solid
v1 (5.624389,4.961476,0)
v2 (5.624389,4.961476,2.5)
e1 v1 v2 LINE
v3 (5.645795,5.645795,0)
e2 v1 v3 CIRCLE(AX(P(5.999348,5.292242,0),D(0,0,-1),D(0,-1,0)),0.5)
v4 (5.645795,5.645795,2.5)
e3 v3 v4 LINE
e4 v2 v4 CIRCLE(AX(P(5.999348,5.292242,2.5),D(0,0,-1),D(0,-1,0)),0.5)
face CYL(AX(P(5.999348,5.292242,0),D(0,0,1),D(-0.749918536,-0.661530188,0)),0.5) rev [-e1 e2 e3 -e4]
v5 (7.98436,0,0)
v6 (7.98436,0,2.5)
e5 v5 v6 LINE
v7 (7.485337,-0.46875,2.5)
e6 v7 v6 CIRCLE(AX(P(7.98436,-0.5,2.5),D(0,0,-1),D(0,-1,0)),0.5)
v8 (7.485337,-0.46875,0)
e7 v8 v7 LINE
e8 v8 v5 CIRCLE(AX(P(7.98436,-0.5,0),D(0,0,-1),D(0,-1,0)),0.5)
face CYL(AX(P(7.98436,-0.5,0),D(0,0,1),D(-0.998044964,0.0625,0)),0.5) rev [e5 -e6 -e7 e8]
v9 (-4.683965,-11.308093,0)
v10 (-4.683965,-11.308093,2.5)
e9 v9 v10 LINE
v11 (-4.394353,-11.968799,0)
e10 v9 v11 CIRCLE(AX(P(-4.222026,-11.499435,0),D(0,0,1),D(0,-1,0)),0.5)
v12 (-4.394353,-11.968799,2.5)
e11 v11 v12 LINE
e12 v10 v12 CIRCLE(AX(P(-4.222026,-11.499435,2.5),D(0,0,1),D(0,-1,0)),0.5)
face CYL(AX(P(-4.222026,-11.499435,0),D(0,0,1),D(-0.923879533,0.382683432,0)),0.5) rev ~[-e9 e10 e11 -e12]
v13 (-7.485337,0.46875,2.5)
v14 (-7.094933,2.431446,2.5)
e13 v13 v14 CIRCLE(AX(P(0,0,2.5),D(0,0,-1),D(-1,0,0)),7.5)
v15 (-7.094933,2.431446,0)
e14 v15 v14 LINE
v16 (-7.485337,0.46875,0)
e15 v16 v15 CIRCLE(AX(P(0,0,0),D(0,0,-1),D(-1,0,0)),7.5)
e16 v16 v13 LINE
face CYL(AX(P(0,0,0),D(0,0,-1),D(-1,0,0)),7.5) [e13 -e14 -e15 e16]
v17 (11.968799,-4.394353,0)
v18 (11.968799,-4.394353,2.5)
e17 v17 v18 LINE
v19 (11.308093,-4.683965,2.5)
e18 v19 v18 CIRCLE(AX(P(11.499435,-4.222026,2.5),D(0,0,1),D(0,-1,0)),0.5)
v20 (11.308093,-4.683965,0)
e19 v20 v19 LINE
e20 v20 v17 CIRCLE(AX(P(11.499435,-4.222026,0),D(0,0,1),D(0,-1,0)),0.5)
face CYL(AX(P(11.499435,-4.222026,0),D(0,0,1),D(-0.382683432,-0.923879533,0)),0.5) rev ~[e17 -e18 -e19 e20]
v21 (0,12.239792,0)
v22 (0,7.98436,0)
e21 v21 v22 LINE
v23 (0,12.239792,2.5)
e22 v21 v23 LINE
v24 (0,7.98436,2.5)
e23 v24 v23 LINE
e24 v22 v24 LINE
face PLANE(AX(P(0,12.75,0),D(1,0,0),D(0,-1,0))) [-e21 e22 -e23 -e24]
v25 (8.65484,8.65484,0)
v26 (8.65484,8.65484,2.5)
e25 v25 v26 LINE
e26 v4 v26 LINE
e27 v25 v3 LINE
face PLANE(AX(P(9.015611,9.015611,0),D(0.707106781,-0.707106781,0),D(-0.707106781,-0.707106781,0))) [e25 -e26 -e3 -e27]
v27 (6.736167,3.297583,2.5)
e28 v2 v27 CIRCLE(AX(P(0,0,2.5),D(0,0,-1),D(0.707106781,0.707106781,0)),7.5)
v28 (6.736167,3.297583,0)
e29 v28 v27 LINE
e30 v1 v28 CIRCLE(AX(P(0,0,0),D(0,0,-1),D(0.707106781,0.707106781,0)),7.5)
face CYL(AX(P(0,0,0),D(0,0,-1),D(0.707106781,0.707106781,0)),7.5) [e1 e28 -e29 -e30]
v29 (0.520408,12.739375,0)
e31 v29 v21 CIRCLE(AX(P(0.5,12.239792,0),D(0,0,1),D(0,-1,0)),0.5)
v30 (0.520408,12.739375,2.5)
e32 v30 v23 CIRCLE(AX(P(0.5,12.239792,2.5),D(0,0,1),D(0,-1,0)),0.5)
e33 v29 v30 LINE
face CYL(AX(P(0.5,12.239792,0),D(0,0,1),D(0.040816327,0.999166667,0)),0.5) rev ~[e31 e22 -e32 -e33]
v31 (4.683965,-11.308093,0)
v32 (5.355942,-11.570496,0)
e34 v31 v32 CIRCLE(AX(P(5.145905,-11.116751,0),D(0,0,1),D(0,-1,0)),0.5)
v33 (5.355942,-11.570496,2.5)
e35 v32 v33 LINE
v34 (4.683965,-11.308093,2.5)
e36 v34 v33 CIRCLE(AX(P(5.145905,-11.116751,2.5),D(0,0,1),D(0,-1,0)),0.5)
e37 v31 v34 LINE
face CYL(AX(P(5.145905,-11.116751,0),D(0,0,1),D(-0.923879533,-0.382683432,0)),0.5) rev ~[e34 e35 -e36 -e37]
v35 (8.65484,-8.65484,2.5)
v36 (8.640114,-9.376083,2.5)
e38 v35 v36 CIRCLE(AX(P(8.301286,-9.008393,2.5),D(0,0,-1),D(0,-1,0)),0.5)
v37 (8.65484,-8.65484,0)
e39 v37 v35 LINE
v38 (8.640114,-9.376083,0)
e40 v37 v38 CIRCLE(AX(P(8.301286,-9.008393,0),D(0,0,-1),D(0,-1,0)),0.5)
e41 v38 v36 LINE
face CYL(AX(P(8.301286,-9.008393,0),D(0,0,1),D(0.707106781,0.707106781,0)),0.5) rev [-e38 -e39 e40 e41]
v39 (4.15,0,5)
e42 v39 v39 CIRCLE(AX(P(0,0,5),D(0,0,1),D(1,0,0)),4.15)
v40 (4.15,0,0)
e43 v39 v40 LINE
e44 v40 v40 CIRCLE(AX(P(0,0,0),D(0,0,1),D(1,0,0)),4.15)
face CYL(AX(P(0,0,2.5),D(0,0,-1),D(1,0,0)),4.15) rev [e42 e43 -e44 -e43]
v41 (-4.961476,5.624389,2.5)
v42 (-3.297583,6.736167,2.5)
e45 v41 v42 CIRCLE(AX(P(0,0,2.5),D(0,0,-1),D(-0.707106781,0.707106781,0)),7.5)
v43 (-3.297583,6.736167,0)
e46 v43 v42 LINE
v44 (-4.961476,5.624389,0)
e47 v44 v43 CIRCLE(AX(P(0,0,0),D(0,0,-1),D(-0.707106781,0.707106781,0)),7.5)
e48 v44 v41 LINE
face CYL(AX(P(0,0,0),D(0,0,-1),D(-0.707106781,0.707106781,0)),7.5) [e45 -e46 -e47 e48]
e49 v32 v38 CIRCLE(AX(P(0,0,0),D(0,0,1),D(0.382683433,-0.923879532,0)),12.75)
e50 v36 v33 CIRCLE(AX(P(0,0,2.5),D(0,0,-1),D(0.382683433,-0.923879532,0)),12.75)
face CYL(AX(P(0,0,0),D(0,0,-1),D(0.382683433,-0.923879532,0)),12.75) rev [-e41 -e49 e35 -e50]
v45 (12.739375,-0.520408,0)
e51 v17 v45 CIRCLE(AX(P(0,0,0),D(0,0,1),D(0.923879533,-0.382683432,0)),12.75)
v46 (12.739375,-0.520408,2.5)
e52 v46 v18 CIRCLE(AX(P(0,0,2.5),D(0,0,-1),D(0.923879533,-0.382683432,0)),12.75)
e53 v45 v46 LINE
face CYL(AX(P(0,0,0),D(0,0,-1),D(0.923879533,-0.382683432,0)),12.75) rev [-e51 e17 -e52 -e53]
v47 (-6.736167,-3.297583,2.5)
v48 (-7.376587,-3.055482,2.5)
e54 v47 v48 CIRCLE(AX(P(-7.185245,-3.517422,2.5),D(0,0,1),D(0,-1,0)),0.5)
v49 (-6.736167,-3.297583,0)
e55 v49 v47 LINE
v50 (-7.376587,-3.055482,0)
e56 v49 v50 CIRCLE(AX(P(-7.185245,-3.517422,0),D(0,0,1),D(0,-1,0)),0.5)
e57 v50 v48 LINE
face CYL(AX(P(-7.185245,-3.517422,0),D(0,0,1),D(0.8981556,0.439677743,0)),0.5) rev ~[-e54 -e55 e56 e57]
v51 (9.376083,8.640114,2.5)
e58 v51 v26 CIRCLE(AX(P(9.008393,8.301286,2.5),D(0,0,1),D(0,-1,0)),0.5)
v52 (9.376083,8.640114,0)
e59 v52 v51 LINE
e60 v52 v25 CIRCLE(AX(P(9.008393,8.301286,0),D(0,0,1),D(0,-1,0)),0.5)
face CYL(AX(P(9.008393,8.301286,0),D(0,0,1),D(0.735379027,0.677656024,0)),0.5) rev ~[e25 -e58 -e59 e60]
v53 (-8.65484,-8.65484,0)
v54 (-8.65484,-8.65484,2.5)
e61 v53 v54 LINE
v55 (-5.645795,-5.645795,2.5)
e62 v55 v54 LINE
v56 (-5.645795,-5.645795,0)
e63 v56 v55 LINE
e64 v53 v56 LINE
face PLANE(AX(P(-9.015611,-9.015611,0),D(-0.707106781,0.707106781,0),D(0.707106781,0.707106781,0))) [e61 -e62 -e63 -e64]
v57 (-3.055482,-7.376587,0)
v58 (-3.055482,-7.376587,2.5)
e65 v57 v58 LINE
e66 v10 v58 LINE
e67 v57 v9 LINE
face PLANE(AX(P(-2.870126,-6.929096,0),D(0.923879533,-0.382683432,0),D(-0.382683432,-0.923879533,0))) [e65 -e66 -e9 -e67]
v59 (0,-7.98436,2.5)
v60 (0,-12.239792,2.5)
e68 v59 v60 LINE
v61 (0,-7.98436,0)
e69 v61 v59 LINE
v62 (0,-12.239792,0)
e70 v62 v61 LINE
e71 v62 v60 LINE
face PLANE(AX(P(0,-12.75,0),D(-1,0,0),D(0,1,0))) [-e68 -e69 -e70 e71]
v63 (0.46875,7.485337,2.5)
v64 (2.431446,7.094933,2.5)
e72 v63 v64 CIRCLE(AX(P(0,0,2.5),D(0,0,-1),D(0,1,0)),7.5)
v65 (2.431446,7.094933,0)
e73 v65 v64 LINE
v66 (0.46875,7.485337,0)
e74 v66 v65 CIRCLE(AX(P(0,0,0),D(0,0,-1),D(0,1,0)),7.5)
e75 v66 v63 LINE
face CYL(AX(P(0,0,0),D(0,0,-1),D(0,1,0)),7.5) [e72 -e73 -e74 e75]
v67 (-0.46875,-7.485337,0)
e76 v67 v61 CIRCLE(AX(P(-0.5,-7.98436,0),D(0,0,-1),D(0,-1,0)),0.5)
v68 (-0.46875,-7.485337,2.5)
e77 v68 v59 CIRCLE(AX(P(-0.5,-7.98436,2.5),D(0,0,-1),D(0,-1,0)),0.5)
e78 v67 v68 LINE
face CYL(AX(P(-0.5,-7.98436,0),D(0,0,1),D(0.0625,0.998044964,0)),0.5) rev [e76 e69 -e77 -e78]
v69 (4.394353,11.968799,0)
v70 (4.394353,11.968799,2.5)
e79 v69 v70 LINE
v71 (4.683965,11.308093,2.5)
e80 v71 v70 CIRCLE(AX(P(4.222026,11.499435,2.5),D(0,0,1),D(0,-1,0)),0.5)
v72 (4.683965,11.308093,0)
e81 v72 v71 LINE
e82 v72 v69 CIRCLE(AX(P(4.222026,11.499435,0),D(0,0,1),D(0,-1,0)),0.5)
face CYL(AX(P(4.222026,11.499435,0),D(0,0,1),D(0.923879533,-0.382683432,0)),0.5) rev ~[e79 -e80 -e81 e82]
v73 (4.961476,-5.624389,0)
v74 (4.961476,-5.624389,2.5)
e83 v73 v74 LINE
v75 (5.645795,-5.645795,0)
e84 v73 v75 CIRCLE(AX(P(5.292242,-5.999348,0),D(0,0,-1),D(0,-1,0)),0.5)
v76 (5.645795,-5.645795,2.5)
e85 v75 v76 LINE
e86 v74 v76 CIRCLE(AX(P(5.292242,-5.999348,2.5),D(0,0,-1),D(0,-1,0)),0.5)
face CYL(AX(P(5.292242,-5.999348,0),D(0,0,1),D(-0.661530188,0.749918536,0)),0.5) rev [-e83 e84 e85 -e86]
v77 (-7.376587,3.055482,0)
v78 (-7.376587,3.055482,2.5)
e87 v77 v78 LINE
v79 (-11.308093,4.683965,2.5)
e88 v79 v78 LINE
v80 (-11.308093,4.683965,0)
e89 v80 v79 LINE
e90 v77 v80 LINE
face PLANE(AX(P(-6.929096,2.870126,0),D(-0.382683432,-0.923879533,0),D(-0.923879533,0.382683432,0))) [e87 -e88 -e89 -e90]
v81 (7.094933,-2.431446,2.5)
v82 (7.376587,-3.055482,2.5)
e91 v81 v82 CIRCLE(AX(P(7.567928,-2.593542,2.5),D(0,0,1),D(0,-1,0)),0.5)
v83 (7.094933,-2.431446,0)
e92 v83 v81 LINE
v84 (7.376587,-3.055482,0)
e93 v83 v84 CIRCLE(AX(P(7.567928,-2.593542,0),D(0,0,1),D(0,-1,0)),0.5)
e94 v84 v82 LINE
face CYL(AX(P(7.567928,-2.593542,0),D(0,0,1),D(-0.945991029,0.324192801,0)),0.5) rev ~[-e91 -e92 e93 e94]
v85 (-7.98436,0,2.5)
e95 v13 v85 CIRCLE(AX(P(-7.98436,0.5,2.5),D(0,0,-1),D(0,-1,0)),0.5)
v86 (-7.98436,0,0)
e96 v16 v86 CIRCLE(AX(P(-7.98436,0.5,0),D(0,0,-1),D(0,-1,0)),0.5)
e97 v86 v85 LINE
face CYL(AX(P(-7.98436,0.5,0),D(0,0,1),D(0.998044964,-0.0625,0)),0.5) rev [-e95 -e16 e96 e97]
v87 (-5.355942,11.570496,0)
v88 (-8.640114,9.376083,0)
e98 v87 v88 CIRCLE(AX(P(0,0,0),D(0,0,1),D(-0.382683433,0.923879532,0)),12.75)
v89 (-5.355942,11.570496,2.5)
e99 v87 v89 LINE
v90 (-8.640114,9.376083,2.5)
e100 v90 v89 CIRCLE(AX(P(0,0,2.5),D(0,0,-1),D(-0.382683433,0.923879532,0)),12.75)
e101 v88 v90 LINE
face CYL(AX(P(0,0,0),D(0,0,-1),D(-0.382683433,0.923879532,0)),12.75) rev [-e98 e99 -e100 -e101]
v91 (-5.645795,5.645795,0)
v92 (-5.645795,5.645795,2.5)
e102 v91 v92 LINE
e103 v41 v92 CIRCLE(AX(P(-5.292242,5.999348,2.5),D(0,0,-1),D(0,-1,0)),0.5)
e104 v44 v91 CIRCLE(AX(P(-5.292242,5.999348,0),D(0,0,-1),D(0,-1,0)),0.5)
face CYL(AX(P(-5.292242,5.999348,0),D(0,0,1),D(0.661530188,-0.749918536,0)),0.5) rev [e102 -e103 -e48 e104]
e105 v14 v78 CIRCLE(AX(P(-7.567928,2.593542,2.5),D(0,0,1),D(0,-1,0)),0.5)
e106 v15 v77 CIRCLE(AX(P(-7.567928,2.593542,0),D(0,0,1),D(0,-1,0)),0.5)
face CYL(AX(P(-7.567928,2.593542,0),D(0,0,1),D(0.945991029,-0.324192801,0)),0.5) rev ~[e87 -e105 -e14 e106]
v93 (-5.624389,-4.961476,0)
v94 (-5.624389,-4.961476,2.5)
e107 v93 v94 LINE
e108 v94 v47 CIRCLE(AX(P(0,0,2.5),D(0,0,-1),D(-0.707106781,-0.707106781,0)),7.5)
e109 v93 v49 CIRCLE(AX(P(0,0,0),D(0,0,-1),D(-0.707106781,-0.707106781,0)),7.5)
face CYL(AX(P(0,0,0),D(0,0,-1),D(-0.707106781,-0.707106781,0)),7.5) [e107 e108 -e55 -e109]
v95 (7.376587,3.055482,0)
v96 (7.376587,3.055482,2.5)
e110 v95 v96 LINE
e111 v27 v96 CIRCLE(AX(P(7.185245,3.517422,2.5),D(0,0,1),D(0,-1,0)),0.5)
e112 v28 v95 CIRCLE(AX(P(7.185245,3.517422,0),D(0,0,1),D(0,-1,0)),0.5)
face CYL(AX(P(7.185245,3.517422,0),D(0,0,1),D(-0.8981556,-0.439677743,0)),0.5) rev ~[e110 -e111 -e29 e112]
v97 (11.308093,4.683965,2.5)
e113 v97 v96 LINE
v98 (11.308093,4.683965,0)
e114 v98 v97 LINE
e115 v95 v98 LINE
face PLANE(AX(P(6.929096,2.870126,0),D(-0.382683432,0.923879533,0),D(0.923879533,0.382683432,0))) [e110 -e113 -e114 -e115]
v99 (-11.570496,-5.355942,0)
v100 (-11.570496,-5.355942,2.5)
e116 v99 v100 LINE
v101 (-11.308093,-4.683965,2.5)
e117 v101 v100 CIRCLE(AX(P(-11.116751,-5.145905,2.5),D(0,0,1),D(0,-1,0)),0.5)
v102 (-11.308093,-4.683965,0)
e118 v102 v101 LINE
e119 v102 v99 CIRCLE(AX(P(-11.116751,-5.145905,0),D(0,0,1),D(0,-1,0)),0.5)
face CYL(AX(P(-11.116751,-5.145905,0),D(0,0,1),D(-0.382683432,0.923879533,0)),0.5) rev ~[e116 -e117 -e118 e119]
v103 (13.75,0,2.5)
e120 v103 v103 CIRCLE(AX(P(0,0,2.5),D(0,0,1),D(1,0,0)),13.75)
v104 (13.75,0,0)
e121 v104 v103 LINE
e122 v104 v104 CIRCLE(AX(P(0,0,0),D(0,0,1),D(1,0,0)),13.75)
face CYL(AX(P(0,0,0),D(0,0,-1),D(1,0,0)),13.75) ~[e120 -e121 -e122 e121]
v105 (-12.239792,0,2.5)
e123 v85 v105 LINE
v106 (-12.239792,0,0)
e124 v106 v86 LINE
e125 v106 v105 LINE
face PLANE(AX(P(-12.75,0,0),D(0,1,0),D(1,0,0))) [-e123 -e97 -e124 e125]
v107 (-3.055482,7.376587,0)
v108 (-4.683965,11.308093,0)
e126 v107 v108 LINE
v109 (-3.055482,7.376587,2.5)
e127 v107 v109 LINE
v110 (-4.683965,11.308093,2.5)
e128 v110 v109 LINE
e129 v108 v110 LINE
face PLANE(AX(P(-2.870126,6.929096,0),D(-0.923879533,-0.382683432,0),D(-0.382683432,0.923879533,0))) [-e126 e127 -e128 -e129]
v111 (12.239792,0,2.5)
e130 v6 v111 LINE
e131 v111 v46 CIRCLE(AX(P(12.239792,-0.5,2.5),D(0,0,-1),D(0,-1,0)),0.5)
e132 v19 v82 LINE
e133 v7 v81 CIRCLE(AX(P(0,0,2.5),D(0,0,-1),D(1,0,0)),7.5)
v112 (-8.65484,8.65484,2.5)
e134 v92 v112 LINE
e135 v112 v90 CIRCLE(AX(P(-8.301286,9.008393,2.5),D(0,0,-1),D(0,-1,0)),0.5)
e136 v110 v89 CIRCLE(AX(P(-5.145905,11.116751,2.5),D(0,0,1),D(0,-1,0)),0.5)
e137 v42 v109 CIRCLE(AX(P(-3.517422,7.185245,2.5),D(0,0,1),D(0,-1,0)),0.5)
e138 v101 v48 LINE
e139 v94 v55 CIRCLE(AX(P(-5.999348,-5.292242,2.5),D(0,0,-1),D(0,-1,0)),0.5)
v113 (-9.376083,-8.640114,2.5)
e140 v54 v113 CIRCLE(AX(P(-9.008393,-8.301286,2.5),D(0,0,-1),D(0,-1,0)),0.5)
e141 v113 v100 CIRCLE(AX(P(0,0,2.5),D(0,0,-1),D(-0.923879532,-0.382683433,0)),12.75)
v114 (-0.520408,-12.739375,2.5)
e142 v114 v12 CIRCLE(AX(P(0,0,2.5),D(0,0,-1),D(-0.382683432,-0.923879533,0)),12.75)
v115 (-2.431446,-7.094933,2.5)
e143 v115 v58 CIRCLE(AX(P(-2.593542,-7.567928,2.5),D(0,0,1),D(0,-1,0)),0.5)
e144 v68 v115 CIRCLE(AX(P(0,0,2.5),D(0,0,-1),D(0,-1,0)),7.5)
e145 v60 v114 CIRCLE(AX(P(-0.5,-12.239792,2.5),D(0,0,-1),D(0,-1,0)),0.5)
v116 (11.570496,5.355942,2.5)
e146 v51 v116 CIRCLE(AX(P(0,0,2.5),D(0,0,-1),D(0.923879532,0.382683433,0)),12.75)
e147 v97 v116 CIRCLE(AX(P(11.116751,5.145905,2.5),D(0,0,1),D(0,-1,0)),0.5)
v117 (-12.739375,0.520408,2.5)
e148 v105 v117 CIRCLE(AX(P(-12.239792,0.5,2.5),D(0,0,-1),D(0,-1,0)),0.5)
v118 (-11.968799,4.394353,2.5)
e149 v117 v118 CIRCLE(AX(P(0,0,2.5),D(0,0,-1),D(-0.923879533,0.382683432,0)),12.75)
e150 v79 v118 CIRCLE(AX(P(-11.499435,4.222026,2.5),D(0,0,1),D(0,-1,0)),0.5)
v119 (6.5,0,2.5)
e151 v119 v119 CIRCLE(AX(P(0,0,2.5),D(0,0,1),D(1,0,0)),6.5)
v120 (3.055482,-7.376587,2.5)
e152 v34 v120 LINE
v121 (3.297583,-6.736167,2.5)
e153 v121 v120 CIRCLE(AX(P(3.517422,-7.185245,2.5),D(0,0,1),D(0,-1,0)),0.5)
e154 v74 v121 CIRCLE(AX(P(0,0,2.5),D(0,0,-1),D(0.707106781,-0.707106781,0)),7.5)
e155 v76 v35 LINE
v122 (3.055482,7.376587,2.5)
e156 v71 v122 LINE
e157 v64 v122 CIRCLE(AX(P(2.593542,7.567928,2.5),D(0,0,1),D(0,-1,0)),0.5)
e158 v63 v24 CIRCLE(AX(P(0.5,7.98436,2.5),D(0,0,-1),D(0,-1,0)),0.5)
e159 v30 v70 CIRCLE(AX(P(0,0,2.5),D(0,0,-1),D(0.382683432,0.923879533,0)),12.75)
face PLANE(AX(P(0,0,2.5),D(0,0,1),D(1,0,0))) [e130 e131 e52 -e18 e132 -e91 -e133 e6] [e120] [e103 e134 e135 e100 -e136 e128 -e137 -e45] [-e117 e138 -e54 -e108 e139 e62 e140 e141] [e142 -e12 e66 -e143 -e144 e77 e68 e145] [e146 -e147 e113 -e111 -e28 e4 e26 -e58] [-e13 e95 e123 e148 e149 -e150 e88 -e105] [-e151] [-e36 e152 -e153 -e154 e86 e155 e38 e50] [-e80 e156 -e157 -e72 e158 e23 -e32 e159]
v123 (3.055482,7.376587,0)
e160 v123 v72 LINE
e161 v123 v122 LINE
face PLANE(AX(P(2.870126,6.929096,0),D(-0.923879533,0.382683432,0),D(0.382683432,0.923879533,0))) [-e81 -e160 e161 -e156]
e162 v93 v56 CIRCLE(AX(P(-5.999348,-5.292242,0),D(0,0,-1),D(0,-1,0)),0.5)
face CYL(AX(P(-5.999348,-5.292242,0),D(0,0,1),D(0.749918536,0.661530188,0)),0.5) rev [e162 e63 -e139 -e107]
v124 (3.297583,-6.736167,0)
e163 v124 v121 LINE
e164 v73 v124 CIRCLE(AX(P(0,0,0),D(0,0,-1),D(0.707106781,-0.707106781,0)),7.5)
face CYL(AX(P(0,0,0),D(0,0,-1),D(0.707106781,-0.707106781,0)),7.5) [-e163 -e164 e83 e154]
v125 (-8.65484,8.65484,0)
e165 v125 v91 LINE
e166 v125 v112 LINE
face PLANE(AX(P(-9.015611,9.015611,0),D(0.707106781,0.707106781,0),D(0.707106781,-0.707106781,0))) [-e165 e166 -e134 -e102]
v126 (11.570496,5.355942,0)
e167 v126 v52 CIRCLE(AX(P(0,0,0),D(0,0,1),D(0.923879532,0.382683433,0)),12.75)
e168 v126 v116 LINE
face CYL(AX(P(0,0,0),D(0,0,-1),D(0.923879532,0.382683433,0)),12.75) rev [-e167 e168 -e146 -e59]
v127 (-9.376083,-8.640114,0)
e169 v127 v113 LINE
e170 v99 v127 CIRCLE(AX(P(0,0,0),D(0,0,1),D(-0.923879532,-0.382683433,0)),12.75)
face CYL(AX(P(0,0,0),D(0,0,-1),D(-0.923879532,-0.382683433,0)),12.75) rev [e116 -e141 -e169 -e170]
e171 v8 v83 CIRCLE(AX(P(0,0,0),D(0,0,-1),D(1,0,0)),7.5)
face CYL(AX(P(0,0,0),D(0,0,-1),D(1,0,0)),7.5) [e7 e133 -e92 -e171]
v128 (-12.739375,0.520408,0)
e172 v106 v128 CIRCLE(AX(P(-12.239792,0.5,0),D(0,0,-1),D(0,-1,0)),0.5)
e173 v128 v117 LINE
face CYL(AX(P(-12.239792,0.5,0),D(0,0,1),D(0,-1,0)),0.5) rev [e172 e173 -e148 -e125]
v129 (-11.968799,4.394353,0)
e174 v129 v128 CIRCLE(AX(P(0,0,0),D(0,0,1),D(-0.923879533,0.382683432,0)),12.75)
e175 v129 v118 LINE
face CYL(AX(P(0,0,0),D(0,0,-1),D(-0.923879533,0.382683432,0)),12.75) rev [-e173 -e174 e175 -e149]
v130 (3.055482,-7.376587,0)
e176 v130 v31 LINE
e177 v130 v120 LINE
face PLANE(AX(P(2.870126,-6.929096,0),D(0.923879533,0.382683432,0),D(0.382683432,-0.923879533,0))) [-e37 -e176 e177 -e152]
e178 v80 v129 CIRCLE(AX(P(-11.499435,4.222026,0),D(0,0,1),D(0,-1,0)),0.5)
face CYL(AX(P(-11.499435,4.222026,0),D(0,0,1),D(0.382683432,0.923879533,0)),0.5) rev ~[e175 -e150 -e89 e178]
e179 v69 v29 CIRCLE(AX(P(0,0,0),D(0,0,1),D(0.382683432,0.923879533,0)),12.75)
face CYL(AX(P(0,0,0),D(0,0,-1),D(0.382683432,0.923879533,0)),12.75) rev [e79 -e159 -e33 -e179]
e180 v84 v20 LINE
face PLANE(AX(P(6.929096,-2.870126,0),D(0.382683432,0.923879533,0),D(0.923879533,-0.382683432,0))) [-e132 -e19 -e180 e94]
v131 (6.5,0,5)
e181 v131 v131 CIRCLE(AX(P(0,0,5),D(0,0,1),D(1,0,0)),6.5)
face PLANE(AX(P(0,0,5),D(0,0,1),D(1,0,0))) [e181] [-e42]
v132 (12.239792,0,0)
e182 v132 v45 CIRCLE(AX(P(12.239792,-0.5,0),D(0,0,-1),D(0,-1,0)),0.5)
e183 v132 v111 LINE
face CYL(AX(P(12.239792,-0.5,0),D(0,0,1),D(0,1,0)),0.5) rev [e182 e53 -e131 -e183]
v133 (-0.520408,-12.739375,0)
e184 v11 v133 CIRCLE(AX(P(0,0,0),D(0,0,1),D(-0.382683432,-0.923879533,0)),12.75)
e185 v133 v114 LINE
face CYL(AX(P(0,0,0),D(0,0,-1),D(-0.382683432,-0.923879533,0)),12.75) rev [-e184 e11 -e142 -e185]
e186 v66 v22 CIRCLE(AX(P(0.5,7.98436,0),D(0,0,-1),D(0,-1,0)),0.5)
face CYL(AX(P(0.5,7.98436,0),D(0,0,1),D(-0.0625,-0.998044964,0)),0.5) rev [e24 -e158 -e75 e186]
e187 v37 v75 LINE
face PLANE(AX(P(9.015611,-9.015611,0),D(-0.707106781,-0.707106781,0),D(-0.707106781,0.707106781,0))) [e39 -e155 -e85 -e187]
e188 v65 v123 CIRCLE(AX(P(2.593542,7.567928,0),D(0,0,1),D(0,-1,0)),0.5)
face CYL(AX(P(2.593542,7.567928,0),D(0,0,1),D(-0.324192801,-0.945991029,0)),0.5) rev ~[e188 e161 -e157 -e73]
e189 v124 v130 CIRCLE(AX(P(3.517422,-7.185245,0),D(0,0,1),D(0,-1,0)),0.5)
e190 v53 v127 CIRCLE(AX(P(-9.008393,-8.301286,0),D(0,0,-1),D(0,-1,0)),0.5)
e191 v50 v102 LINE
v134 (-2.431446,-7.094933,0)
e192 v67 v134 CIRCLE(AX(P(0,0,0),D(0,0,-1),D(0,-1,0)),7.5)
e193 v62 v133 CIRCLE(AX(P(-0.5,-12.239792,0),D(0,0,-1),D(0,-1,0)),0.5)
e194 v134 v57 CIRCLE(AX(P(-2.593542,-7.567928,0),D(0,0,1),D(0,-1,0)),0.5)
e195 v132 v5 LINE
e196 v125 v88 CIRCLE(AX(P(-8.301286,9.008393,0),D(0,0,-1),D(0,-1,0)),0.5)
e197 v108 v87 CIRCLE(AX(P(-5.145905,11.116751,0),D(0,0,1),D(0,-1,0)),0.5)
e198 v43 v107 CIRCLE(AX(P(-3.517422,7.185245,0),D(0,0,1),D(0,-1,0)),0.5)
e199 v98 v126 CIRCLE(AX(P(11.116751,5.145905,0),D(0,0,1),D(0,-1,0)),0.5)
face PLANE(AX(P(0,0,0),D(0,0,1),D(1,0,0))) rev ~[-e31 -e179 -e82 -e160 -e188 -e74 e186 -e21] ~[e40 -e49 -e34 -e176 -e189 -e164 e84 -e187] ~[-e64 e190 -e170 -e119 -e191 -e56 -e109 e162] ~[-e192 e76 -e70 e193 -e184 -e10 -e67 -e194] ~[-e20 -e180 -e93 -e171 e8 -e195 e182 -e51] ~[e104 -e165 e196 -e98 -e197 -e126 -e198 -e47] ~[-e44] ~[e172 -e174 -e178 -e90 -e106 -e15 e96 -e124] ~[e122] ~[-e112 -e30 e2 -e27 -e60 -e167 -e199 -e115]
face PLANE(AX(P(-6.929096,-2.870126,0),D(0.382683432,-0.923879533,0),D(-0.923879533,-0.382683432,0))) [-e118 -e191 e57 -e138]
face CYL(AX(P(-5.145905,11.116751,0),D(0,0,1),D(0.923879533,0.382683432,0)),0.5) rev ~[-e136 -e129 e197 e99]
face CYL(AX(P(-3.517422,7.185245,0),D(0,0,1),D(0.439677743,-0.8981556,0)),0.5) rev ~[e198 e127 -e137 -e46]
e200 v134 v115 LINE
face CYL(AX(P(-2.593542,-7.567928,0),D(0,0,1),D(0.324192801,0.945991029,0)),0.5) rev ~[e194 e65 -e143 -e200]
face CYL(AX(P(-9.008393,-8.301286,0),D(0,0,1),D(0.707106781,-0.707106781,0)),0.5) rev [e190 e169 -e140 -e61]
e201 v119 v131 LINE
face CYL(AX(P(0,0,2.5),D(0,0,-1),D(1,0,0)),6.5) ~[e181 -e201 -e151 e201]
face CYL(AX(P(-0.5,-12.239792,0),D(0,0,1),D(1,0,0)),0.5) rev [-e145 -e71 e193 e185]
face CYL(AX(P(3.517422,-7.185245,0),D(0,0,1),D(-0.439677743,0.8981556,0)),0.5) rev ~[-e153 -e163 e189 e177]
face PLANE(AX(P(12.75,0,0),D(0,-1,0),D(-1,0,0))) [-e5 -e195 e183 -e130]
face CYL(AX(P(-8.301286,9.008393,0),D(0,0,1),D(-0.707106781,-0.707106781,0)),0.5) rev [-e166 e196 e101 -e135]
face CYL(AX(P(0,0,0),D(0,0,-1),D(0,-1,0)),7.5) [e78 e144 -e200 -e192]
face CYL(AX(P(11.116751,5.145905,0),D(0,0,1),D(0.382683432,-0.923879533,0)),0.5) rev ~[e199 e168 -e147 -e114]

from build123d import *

# Parameters (mm, degrees)
SKETCH1_R                = 13.75
SKETCH1_R_2              = 4.15
BOSS_EXTRUDE1_DEPTH      = 2.5
SKETCH2_R                = 6.5
SKETCH2_R_2              = 4.15
BOSS_EXTRUDE2_DEPTH      = 2.5
CUT_EXTRUDE1_DEPTH       = 21.077973005
FILLET1_R                = 0.5
CIRPATTERN1_COUNT        = 8
FILLET1_OF_CIRPATTERN1_R = 0.5


with BuildPart() as part:
    # Sketch1 → Boss-Extrude1 (new body)
    with BuildSketch(Plane.XY):
        Circle(SKETCH1_R)
        Circle(SKETCH1_R_2, mode=Mode.SUBTRACT)
    extrude(amount=BOSS_EXTRUDE1_DEPTH)

    # Sketch2 → Boss-Extrude2 (add)
    with BuildSketch(Plane.XY.offset(2.5)):
        Circle(SKETCH2_R)
        Circle(SKETCH2_R_2, mode=Mode.SUBTRACT)
    extrude(amount=BOSS_EXTRUDE2_DEPTH)

    # Sketch5 → Cut-Extrude1 (cut, through all)
    with BuildSketch(Plane.XY):
        with BuildLine():
            Line((0, 12.75), (0, 7.5))
            ThreePointArc((0, 7.5), (1.463177415, 7.355889603), (2.870125743, 6.929096494))
            Line((2.870125743, 6.929096494), (4.879213763, 11.77946404))
            ThreePointArc((4.879213763, 11.77946404), (2.487401606, 12.505012325), (0, 12.75))
        make_face()
    cut_extrude1 = extrude(amount=CUT_EXTRUDE1_DEPTH, mode=Mode.SUBTRACT)

    # Fillet1
    fillet1_edges = [part.edges().sort_by_distance(p)[0] for p in [
        (0, 7.5, 1.25),
        (2.870125743, 6.929096494, 1.25),
        (4.879213763, 11.77946404, 1.25),
        (0, 12.75, 1.25),
    ]]
    fillet(fillet1_edges, radius=FILLET1_R)

    # CirPattern1: Cut-Extrude1 ×8 about axis
    cirpattern1_axis = Axis((0, 0, 0), (0, 0, 1))
    for i in range(1, CIRPATTERN1_COUNT):
        add(cut_extrude1.rotate(cirpattern1_axis, i * 360 / CIRPATTERN1_COUNT), mode=Mode.SUBTRACT)

    # Fillet1 of CirPattern1
    fillet1_of_cirpattern1_edges = [part.edges().sort_by_distance(p)[0] for p in [
        (-5.303300859, 5.303300859, 1.25),
        (-2.870125743, 6.929096494, 1.25),
        (-4.879213763, 11.77946404, 1.25),
        (-9.01561146, 9.01561146, 1.25),
        (-7.5, 0, 1.25),
        (-6.929096494, 2.870125743, 1.25),
        (-11.77946404, 4.879213763, 1.25),
        (-12.75, 0, 1.25),
        (-5.303300859, -5.303300859, 1.25),
        (-6.929096494, -2.870125743, 1.25),
        (-11.77946404, -4.879213763, 1.25),
        (-9.01561146, -9.01561146, 1.25),
        (0, -7.5, 1.25),
        (-2.870125743, -6.929096494, 1.25),
        (-4.879213763, -11.77946404, 1.25),
        (0, -12.75, 1.25),
        (5.303300859, -5.303300859, 1.25),
        (2.870125743, -6.929096494, 1.25),
        (4.879213763, -11.77946404, 1.25),
        (9.01561146, -9.01561146, 1.25),
        (7.5, 0, 1.25),
        (6.929096494, -2.870125743, 1.25),
        (11.77946404, -4.879213763, 1.25),
        (12.75, 0, 1.25),
        (5.303300859, 5.303300859, 1.25),
        (6.929096494, 2.870125743, 1.25),
        (11.77946404, 4.879213763, 1.25),
        (9.01561146, 9.01561146, 1.25),
    ]]
    fillet(fillet1_of_cirpattern1_edges, radius=FILLET1_OF_CIRPATTERN1_R)


solid = part.part
